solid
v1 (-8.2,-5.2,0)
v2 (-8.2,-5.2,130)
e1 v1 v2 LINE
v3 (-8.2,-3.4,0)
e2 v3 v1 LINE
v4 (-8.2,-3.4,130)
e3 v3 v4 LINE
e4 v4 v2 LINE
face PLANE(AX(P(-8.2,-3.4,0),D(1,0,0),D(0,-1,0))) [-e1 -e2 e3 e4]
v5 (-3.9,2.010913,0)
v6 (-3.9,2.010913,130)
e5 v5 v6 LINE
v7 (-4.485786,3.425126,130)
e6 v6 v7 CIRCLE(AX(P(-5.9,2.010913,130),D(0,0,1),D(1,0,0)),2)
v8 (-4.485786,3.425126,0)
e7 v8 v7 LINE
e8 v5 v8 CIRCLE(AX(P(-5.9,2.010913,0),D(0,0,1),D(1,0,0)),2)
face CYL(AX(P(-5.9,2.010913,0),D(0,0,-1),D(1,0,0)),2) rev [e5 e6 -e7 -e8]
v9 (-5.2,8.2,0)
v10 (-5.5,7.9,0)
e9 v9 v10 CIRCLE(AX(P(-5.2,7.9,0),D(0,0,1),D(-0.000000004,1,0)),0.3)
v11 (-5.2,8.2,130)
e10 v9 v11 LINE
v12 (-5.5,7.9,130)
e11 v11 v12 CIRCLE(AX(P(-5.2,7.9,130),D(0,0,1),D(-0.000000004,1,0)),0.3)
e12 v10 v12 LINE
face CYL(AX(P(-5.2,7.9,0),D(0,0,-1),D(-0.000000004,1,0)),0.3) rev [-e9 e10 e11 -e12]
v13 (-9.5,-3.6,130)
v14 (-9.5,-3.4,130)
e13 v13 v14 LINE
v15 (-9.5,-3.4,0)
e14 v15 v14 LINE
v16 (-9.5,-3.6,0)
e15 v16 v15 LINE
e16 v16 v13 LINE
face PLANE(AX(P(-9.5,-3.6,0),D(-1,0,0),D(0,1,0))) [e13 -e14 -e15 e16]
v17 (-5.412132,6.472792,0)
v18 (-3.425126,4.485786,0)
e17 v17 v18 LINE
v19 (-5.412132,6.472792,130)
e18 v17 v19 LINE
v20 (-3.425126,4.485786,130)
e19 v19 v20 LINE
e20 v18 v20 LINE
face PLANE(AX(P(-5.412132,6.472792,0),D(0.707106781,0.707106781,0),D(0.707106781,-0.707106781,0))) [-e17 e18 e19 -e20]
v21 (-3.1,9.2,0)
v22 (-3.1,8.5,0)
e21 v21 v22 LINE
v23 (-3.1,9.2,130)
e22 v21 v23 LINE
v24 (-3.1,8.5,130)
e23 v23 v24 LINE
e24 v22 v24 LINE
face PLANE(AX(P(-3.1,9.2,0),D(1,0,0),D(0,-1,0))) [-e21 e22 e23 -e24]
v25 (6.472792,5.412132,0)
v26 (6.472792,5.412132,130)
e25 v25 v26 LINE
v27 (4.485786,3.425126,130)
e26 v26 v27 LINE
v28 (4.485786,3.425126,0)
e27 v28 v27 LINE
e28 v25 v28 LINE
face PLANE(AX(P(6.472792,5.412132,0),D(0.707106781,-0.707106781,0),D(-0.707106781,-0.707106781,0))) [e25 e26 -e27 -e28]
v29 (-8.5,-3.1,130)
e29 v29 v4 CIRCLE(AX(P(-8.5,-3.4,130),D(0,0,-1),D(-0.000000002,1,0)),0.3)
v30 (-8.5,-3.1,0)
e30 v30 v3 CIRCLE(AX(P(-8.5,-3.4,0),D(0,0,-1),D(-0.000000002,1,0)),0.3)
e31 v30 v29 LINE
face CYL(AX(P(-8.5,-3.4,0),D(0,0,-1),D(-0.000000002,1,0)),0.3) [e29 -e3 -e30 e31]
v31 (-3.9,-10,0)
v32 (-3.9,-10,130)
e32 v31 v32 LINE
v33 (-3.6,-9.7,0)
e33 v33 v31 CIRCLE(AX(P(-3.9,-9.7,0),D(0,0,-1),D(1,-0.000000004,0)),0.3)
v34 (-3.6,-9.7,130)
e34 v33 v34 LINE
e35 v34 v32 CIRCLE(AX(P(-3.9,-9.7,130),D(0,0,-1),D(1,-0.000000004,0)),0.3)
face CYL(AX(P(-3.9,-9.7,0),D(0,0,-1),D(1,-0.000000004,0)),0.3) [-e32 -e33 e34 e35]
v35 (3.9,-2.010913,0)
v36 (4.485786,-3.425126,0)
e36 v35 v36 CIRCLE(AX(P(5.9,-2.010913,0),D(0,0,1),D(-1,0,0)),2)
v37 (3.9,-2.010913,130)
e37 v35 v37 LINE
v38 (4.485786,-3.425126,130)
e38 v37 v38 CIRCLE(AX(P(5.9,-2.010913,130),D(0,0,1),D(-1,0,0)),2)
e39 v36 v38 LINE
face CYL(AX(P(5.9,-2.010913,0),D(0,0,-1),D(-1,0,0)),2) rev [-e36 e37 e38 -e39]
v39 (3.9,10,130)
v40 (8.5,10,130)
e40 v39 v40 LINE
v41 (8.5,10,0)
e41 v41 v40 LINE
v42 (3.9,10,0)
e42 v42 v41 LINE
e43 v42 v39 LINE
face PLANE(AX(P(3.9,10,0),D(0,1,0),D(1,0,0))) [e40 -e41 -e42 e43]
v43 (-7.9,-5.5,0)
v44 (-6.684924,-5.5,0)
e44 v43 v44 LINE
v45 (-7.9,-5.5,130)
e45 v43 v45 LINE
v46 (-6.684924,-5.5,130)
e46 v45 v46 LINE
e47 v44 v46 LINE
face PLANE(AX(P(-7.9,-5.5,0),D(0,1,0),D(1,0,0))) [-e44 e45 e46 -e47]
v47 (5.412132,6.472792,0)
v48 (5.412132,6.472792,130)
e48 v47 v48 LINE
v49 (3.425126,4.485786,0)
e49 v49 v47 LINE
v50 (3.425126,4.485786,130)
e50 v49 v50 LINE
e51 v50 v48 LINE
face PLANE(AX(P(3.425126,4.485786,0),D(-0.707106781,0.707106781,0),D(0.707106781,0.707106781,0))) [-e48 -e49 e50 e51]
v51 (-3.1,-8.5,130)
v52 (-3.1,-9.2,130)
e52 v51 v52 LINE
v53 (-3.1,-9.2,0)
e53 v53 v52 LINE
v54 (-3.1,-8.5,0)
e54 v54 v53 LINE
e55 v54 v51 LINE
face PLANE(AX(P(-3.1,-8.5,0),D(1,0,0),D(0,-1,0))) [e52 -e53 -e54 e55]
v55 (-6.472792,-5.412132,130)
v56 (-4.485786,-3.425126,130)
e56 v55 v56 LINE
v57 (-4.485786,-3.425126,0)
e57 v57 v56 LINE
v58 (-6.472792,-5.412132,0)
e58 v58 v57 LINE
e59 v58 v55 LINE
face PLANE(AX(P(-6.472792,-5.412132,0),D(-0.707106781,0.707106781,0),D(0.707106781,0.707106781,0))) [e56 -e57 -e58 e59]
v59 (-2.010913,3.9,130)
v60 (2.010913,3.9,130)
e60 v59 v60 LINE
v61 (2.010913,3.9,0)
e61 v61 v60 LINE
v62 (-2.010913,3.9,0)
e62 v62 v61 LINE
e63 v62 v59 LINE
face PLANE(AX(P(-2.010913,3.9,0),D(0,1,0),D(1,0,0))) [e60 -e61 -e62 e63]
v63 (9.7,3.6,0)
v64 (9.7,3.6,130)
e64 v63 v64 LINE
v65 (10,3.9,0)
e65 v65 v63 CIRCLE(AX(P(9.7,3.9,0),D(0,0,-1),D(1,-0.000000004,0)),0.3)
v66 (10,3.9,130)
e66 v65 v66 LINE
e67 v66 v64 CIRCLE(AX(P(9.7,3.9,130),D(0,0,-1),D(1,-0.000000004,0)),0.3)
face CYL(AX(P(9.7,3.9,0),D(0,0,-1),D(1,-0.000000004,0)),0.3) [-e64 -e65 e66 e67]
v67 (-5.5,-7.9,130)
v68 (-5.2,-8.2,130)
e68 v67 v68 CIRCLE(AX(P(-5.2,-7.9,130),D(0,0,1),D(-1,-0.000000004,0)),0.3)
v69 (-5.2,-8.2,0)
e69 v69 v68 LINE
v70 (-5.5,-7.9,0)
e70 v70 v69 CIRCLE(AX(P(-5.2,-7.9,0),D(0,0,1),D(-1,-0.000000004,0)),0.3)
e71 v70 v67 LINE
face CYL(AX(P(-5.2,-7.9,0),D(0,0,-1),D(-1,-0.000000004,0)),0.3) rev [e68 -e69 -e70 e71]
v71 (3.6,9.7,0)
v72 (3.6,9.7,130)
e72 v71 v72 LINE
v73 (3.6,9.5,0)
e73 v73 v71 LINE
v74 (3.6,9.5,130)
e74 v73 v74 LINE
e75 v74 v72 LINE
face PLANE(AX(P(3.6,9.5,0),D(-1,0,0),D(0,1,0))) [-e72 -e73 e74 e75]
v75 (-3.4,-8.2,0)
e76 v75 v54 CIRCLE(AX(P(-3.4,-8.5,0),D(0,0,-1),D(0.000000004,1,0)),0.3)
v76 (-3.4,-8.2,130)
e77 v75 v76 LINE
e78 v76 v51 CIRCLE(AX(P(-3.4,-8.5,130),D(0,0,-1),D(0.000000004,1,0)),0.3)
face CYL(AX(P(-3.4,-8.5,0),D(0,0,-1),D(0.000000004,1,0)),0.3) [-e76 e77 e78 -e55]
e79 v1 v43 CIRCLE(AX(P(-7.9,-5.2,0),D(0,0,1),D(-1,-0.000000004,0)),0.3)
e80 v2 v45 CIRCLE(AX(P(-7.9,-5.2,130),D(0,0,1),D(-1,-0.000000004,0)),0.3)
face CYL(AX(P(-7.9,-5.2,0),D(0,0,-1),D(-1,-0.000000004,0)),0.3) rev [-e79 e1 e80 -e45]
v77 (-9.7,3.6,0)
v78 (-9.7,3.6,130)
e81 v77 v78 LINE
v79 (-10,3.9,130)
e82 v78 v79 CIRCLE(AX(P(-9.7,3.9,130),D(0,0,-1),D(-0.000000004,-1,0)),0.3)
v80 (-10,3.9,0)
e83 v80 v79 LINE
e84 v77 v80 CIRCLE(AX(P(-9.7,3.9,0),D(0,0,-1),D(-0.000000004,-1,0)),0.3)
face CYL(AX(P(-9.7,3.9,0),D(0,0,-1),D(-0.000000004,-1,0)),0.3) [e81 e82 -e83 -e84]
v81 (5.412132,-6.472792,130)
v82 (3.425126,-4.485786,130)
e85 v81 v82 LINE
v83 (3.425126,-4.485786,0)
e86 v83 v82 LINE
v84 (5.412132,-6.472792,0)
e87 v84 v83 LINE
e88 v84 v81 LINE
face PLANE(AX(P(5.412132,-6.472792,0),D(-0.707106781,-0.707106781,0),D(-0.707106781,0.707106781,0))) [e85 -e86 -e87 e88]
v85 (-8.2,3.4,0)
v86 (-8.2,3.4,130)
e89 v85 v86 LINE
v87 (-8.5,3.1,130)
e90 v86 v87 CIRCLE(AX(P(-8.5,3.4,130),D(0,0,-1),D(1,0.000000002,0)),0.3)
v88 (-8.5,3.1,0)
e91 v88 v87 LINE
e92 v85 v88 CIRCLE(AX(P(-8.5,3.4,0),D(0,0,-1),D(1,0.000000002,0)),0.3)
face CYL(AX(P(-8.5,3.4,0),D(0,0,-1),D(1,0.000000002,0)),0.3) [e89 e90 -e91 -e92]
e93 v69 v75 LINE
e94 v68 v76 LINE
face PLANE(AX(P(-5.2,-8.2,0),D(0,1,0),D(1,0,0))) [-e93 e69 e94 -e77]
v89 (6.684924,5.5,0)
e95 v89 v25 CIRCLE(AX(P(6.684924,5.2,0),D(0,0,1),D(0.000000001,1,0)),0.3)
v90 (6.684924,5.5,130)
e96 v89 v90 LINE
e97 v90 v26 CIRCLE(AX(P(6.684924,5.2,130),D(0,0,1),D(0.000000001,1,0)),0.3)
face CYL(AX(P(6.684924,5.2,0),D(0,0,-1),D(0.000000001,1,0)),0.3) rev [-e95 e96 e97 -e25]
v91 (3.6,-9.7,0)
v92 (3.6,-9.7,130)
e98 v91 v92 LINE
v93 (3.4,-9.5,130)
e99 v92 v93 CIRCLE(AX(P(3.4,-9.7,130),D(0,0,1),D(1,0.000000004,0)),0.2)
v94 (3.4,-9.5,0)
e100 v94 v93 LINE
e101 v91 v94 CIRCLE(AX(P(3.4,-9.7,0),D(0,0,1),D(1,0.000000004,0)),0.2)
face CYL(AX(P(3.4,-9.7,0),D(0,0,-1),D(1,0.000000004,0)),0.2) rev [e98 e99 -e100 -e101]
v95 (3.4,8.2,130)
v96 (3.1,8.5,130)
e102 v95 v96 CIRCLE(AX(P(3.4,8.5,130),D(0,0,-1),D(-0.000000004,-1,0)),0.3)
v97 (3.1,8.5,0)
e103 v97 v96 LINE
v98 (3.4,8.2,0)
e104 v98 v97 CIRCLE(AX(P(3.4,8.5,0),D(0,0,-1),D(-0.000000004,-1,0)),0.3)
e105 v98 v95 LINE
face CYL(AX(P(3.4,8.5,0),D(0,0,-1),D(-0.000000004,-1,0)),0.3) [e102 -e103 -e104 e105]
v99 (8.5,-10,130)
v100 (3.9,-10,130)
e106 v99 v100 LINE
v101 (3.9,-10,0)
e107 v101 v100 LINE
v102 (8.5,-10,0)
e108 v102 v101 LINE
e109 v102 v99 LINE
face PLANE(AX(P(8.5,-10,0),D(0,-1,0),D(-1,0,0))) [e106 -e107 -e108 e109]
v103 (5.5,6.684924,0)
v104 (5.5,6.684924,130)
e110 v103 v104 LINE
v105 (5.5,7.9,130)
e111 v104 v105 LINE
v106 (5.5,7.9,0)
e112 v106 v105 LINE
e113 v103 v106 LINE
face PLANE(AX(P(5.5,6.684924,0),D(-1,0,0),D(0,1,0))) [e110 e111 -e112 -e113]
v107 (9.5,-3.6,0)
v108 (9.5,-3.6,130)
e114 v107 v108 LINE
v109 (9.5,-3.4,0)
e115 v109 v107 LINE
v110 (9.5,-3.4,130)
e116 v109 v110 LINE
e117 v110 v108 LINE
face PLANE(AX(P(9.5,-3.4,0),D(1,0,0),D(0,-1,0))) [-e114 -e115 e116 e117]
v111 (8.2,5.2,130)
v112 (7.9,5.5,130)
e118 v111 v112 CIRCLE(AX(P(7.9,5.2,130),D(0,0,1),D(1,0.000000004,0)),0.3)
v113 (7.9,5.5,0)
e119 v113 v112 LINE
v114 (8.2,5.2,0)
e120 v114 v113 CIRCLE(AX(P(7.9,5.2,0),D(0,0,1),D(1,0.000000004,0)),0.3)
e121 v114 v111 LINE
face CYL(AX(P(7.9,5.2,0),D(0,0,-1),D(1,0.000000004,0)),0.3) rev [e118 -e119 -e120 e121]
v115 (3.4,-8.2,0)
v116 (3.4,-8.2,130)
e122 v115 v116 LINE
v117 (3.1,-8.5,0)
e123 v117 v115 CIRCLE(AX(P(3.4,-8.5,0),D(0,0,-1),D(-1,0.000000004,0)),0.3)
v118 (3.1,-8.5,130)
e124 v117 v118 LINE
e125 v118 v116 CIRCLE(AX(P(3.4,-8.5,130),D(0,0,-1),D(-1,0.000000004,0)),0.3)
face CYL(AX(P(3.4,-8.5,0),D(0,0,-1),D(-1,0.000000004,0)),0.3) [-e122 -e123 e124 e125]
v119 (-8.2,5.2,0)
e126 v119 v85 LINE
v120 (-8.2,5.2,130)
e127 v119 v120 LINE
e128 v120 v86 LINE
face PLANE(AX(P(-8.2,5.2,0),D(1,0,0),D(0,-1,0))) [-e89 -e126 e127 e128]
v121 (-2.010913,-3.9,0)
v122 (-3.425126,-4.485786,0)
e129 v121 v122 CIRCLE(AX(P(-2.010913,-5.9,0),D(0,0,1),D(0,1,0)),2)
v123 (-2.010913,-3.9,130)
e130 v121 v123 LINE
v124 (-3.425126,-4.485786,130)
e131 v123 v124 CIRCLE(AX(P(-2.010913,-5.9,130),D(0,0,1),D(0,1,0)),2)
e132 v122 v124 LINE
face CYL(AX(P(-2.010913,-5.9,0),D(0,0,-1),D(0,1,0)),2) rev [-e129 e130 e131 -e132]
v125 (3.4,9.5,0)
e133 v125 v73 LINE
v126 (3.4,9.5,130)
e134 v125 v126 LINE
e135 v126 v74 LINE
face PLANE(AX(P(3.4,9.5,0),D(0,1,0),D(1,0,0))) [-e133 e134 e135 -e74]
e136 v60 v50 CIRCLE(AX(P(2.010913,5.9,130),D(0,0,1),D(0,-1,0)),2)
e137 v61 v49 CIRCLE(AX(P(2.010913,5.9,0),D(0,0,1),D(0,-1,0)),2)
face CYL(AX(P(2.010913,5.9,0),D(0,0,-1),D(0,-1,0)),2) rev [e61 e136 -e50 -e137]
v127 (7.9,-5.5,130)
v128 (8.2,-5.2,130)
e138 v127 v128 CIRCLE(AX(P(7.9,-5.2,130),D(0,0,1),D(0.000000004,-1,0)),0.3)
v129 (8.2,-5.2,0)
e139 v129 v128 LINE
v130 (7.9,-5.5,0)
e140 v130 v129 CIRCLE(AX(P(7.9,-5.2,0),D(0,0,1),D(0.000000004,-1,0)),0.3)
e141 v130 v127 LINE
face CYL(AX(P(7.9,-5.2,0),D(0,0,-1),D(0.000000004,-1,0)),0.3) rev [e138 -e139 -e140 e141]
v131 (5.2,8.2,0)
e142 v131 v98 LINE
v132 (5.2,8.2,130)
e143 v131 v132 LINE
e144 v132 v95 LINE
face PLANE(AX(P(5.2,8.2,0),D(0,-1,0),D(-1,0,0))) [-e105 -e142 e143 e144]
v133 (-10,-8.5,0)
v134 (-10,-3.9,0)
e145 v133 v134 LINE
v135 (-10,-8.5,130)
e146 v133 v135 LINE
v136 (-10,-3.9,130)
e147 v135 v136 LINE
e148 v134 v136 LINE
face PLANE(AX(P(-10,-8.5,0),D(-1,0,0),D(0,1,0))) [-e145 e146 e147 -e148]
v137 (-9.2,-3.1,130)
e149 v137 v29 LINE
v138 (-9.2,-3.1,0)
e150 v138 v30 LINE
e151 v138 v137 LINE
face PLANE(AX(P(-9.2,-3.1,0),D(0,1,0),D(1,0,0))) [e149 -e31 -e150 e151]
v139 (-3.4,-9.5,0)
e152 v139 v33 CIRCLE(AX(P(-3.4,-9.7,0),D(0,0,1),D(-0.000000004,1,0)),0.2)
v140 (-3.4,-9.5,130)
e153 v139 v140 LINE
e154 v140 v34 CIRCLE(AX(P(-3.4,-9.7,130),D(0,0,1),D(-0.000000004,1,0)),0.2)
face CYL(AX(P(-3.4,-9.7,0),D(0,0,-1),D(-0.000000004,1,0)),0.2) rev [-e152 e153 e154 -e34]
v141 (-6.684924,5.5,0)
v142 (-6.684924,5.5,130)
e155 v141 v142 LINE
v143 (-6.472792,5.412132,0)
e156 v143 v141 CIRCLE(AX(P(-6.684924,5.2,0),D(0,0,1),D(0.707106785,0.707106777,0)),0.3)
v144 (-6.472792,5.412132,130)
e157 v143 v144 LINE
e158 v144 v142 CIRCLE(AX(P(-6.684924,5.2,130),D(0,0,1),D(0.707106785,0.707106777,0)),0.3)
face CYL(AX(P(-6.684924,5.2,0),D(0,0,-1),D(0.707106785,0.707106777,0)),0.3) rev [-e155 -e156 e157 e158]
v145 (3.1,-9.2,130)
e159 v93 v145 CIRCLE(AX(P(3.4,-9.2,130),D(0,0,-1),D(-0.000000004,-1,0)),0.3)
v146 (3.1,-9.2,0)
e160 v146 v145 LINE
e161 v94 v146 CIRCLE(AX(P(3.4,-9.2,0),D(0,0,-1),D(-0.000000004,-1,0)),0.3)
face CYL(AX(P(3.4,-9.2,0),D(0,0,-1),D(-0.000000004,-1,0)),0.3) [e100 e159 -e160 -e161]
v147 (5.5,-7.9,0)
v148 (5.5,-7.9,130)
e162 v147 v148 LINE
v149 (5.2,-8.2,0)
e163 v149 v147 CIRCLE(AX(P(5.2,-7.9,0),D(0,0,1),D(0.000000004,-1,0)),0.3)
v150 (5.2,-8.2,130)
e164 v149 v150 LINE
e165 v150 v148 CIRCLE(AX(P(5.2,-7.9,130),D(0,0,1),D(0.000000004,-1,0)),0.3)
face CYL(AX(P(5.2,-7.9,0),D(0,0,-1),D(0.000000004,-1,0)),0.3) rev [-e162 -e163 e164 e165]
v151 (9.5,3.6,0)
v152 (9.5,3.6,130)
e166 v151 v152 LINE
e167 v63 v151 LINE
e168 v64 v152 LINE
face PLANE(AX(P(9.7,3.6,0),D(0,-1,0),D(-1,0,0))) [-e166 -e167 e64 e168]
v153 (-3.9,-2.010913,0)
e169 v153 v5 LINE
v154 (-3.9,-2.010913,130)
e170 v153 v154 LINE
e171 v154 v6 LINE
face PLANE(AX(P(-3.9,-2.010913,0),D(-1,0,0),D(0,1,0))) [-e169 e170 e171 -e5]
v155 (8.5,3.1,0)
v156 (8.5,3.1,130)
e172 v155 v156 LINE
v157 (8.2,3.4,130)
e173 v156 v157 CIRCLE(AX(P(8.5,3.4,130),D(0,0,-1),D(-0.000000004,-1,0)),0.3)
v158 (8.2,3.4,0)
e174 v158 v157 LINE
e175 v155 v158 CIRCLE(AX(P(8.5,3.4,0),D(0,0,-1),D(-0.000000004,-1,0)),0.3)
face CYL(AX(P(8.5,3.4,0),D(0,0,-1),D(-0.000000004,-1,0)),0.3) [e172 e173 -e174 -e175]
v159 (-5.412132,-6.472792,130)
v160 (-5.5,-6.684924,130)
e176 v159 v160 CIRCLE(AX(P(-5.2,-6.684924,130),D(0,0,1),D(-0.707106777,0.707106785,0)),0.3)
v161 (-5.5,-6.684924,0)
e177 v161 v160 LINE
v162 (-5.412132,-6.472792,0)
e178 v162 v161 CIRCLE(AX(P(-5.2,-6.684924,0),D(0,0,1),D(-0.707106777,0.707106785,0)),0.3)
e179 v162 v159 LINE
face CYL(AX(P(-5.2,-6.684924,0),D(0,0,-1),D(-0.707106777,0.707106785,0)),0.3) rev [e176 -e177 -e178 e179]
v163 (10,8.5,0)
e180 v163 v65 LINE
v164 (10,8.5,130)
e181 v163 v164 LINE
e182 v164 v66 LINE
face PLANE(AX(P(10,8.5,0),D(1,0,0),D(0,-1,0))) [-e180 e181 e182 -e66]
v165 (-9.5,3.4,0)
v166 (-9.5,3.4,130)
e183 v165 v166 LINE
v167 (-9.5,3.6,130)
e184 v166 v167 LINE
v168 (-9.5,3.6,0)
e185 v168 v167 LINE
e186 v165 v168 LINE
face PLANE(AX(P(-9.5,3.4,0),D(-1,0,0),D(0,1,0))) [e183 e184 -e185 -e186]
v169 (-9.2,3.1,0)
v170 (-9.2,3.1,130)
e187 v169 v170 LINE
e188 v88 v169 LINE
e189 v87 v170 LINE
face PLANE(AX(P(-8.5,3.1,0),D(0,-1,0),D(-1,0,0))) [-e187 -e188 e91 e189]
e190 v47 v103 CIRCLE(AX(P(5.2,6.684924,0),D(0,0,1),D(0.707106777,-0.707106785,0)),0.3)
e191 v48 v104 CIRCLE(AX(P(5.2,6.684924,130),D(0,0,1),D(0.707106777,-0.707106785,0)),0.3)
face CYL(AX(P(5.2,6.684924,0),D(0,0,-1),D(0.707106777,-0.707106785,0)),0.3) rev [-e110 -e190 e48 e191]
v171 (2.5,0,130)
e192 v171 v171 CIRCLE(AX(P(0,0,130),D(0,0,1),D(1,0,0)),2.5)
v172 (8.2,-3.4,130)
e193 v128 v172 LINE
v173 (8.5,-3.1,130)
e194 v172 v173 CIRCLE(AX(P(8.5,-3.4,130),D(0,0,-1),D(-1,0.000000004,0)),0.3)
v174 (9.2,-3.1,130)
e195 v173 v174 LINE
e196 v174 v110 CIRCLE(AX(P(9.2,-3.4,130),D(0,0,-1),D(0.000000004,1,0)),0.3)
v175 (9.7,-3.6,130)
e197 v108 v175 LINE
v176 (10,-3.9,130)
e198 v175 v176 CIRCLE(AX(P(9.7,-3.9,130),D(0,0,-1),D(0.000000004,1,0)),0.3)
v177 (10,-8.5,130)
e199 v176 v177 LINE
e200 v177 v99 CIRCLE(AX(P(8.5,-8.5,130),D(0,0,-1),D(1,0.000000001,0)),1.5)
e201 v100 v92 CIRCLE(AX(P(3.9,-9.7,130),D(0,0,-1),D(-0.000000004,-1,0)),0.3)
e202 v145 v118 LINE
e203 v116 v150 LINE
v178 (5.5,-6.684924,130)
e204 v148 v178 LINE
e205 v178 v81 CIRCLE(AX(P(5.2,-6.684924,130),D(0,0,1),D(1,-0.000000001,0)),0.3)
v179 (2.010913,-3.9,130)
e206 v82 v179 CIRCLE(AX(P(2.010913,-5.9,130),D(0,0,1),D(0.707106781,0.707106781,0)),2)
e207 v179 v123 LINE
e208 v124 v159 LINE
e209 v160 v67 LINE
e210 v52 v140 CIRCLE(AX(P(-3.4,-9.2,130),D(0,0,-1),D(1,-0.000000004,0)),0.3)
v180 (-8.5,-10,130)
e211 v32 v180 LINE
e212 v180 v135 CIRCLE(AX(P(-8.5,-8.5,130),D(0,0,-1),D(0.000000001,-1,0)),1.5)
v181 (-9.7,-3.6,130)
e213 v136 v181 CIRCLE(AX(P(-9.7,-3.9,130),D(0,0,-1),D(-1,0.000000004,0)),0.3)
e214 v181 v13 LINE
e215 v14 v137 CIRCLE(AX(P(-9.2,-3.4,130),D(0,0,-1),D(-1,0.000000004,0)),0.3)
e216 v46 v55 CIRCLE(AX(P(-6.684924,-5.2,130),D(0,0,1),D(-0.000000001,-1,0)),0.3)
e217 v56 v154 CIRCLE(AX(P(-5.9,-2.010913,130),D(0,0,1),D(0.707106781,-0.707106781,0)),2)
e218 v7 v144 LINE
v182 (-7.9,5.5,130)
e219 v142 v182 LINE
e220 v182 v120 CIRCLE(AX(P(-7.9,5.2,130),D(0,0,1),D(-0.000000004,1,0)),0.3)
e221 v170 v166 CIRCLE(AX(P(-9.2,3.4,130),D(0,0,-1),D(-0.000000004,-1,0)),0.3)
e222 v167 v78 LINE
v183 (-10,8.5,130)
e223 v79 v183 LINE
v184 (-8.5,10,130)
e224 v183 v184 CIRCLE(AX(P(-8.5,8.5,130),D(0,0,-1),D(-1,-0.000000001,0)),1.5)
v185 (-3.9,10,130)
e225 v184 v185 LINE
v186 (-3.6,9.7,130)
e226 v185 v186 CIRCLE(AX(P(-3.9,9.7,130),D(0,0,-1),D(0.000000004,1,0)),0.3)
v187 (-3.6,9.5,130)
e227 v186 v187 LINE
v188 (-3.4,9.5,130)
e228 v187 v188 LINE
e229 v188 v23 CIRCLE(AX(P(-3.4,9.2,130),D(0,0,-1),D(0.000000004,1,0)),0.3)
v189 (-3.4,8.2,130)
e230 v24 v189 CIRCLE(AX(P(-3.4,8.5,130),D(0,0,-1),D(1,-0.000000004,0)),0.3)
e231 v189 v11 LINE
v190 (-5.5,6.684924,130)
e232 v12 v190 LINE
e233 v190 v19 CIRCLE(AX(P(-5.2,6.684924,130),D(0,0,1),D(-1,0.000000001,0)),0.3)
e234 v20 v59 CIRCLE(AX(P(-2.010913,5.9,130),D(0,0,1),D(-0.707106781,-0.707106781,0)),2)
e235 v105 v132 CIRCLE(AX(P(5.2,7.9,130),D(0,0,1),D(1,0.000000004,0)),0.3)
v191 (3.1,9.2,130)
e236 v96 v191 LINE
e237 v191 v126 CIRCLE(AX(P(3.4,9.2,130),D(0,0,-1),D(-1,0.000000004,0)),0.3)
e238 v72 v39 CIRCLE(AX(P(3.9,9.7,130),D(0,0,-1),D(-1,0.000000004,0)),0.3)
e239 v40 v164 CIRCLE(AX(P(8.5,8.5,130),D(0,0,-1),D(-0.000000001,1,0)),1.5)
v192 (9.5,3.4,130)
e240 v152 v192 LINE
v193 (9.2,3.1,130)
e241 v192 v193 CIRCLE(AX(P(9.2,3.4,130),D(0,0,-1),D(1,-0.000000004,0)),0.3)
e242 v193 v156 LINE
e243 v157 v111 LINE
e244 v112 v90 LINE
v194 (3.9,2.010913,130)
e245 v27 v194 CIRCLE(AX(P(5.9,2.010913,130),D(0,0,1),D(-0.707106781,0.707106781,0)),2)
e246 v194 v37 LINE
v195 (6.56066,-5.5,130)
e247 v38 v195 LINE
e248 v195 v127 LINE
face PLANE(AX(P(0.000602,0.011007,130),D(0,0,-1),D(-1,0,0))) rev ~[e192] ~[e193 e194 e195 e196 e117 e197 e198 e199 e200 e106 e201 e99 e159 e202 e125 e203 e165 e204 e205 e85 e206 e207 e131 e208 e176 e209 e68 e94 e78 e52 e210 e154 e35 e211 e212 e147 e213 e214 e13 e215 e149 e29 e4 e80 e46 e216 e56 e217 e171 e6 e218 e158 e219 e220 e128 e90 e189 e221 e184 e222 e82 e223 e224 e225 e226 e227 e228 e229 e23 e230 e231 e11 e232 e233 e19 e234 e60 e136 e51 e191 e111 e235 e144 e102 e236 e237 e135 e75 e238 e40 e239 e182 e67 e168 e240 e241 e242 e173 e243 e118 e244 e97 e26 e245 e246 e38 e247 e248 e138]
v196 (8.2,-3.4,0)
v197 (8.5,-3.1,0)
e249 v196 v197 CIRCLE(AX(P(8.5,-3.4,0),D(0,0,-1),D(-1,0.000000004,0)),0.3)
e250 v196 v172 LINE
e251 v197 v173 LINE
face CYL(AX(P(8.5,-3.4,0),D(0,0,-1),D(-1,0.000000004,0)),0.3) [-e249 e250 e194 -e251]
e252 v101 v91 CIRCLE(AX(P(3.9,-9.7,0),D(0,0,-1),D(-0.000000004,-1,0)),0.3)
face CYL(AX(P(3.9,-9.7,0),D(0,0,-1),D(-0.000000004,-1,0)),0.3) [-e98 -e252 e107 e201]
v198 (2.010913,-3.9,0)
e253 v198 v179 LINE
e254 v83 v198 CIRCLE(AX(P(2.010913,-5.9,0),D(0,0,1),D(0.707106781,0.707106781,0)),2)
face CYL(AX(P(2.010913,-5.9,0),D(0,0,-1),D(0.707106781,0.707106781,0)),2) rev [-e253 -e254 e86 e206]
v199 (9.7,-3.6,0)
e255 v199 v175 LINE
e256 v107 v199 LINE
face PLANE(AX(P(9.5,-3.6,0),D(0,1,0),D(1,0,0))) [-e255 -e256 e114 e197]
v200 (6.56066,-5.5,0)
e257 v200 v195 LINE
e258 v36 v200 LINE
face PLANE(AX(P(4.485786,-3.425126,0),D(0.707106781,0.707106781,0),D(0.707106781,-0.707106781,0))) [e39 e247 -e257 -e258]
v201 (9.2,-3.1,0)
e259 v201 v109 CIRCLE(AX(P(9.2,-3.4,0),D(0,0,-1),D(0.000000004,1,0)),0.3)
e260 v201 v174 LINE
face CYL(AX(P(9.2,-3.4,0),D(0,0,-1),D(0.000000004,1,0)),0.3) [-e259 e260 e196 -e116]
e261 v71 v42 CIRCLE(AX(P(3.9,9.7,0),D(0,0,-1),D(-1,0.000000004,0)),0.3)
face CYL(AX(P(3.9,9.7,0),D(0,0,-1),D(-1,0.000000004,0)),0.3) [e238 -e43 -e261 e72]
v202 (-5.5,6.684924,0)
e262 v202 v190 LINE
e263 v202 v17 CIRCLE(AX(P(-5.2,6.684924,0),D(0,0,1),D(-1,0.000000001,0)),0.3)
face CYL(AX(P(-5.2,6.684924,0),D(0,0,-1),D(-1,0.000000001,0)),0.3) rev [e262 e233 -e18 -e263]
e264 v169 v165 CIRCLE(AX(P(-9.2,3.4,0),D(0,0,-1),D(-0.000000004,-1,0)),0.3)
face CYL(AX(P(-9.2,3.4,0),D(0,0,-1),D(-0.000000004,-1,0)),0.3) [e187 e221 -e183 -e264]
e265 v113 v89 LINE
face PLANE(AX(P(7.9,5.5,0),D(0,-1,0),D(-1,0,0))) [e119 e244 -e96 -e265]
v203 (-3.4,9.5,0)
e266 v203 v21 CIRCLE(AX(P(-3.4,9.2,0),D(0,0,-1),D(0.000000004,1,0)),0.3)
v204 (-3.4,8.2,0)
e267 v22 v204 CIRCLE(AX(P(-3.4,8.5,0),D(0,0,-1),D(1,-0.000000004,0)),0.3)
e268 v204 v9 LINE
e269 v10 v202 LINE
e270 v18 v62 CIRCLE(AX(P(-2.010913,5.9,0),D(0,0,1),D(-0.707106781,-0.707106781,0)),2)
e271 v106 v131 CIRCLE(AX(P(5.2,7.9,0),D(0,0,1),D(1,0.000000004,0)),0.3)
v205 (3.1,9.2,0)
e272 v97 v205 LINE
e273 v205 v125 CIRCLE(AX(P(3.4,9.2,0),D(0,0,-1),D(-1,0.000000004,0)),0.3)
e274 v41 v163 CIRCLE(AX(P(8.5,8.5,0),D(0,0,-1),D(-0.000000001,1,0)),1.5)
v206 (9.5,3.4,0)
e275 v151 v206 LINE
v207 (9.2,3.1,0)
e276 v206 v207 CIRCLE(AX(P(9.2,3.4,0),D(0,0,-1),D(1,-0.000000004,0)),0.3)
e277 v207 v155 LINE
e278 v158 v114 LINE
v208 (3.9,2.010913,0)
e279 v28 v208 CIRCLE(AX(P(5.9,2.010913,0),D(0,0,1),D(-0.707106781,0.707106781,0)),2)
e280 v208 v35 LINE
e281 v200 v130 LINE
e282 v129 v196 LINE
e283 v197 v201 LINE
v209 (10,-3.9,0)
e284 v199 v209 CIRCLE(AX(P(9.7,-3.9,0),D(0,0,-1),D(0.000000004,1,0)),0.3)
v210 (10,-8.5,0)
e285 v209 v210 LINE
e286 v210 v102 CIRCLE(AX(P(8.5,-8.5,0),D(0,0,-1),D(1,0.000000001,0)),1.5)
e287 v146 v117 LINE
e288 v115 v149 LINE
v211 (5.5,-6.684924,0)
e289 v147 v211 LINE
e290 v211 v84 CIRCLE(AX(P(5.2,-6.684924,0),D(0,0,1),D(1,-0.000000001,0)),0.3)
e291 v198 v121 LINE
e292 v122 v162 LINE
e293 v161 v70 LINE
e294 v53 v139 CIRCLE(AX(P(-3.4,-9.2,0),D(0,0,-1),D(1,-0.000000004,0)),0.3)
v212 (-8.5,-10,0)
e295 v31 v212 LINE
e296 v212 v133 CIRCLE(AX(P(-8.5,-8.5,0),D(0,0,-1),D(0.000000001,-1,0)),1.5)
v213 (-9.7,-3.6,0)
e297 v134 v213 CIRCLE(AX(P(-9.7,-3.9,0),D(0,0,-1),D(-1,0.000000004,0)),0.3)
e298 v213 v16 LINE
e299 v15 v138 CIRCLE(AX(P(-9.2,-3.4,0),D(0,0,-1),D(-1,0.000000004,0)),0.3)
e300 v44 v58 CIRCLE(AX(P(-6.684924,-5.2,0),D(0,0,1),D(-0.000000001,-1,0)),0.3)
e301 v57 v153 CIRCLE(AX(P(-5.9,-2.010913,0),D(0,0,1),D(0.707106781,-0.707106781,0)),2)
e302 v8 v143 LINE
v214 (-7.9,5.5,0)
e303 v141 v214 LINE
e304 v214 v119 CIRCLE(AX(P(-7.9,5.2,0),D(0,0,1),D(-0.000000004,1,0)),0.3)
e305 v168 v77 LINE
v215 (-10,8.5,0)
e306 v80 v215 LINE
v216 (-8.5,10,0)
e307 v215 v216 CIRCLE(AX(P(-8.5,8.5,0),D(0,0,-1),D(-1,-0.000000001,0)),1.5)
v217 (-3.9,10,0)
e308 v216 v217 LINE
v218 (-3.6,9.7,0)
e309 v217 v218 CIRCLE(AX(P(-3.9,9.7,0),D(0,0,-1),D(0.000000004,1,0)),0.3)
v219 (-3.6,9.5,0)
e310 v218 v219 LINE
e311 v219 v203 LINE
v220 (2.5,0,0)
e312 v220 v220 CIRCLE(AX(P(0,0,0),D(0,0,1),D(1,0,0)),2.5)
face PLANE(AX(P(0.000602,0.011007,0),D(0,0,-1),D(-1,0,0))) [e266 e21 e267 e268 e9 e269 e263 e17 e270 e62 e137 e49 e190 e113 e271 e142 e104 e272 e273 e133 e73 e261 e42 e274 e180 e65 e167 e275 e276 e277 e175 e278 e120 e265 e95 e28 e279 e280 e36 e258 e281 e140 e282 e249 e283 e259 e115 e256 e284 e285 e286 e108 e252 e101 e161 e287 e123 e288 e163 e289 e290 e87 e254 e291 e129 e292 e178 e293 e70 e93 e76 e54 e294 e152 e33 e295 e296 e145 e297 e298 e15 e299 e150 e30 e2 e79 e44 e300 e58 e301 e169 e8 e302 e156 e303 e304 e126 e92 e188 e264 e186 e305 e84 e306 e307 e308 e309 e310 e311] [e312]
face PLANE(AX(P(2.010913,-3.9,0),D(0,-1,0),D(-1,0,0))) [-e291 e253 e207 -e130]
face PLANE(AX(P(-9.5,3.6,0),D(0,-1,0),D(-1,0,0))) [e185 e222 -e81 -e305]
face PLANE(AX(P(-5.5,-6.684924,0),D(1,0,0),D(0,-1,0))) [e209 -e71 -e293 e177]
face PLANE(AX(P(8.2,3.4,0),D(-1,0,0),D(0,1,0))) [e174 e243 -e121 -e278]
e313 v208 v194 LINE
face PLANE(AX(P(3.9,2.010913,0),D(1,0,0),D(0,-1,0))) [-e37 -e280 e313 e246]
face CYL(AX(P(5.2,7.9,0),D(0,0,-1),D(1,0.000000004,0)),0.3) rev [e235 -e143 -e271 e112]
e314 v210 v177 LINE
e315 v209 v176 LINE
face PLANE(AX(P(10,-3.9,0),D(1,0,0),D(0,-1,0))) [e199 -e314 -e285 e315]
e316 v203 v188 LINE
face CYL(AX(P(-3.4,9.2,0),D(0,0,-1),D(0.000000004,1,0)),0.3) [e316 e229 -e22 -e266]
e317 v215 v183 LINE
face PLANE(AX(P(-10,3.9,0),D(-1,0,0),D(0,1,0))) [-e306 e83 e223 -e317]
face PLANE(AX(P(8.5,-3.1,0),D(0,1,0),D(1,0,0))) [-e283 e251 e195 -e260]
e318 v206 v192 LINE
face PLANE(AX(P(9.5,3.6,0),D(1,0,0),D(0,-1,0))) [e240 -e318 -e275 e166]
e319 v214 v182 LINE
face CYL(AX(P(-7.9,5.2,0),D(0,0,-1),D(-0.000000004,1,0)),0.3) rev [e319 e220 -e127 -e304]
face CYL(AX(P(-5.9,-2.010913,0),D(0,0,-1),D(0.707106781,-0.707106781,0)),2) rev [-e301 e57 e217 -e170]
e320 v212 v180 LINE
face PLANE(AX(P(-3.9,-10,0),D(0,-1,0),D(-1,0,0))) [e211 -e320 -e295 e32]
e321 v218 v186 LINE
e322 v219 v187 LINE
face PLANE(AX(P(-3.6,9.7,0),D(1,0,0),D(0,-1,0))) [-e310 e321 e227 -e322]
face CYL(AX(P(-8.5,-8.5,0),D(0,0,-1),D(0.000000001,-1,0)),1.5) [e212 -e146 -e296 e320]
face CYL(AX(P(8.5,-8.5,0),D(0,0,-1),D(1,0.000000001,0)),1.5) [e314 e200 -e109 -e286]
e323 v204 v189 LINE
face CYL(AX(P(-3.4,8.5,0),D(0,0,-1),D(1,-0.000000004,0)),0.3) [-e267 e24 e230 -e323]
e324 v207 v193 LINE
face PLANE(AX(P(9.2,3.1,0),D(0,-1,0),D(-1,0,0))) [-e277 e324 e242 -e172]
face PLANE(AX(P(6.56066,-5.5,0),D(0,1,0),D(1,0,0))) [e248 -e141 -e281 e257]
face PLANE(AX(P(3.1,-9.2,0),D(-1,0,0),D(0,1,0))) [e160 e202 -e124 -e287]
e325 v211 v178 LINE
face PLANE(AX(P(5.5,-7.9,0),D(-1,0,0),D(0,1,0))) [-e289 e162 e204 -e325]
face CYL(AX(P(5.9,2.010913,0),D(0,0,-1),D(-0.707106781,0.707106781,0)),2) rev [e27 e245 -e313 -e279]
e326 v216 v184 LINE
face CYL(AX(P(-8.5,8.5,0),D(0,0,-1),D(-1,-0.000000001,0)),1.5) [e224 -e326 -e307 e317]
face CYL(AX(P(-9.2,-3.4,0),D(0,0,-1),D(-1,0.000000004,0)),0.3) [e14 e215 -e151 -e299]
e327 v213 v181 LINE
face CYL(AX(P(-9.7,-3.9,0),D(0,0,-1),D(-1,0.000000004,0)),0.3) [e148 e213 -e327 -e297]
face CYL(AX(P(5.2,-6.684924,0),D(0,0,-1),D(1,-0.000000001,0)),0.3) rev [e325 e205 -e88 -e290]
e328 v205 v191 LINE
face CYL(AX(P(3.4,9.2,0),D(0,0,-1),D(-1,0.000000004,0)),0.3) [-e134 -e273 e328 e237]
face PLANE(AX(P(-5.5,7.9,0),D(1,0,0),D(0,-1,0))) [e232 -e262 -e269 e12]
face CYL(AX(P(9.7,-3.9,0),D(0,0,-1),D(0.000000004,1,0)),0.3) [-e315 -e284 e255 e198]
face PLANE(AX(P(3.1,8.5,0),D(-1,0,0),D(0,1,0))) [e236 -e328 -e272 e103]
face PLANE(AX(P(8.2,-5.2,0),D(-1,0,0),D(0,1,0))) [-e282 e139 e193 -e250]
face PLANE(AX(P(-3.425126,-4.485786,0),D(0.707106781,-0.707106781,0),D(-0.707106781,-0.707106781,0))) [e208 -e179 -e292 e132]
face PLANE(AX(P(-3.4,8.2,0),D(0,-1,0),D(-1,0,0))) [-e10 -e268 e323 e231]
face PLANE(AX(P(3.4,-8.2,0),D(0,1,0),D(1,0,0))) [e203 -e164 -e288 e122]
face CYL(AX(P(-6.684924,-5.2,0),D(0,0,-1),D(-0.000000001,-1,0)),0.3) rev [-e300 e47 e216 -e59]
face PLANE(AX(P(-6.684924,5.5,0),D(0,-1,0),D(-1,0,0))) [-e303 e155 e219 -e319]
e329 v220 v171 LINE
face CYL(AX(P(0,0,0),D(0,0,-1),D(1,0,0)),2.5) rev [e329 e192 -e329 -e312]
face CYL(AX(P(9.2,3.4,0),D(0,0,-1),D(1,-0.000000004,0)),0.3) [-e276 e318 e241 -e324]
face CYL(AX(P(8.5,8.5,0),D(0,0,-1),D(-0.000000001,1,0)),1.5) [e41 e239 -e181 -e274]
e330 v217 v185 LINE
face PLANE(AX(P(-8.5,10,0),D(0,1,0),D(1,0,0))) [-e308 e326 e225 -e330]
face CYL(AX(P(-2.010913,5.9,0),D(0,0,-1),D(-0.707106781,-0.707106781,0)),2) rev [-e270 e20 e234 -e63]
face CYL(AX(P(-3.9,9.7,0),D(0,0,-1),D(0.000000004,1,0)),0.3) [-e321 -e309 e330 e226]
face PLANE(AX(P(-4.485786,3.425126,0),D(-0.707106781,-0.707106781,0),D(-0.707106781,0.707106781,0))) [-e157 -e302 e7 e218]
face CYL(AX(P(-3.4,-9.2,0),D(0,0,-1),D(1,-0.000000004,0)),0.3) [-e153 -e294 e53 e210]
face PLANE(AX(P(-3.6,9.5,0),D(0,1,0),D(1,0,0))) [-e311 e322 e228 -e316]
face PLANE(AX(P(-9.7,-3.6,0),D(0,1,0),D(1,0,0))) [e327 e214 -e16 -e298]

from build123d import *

# Parameters (mm, degrees)
SKETCH_1_R      = 2.5
EXTRUDE_1_DEPTH = 130


with BuildPart() as part:
    # 草图1 → 凸台-拉伸1 (new body)
    with BuildSketch(Plane.XY):
        with BuildLine():
            Line((3.9, 0), (3.9, -2.010912703))
            ThreePointArc((3.9, -2.010912703), (4.052240935, -2.776279568), (4.485786438, -3.425126266))
            Line((4.485786438, -3.425126266), (6.560660172, -5.5))
            Line((6.560660172, -5.5), (7.9, -5.5))
            ThreePointArc((7.9, -5.5), (8.112132034, -5.412132034), (8.2, -5.2))
            Line((8.2, -5.2), (8.2, -3.4))
            ThreePointArc((8.2, -3.4), (8.287867966, -3.187867966), (8.5, -3.1))
            Line((8.5, -3.1), (9.2, -3.1))
            ThreePointArc((9.2, -3.1), (9.412132034, -3.187867966), (9.5, -3.4))
            Line((9.5, -3.4), (9.5, -3.6))
            Line((9.5, -3.6), (9.7, -3.6))
            ThreePointArc((9.7, -3.6), (9.912132034, -3.687867966), (10, -3.9))
            Line((10, -3.9), (10, -8.5))
            ThreePointArc((10, -8.5), (9.560660172, -9.560660172), (8.5, -10))
            Line((8.5, -10), (3.9, -10))
            ThreePointArc((3.9, -10), (3.687867966, -9.912132034), (3.6, -9.7))
            ThreePointArc((3.6, -9.7), (3.541421356, -9.558578644), (3.4, -9.5))
            ThreePointArc((3.4, -9.5), (3.187867966, -9.412132034), (3.1, -9.2))
            Line((3.1, -9.2), (3.1, -8.5))
            ThreePointArc((3.1, -8.5), (3.187867966, -8.287867966), (3.4, -8.2))
            Line((3.4, -8.2), (5.2, -8.2))
            ThreePointArc((5.2, -8.2), (5.412132034, -8.112132034), (5.5, -7.9))
            Line((5.5, -7.9), (5.5, -6.68492424))
            ThreePointArc((5.5, -6.68492424), (5.47716386, -6.570119211), (5.412132034, -6.472792206))
            Line((5.412132034, -6.472792206), (3.425126266, -4.485786438))
            ThreePointArc((3.425126266, -4.485786438), (2.776279568, -4.052240935), (2.010912703, -3.9))
            Line((2.010912703, -3.9), (0, -3.9))
            Line((0, -3.9), (-2.010912703, -3.9))
            ThreePointArc((-2.010912703, -3.9), (-2.776279568, -4.052240935), (-3.425126266, -4.485786438))
            Line((-3.425126266, -4.485786438), (-5.412132034, -6.472792206))
            ThreePointArc((-5.412132034, -6.472792206), (-5.47716386, -6.570119211), (-5.5, -6.68492424))
            Line((-5.5, -6.68492424), (-5.5, -7.9))
            ThreePointArc((-5.5, -7.9), (-5.412132034, -8.112132034), (-5.2, -8.2))
            Line((-5.2, -8.2), (-3.4, -8.2))
            ThreePointArc((-3.4, -8.2), (-3.187867966, -8.287867966), (-3.1, -8.5))
            Line((-3.1, -8.5), (-3.1, -9.2))
            ThreePointArc((-3.1, -9.2), (-3.187867966, -9.412132034), (-3.4, -9.5))
            ThreePointArc((-3.4, -9.5), (-3.541421356, -9.558578644), (-3.6, -9.7))
            ThreePointArc((-3.6, -9.7), (-3.687867966, -9.912132034), (-3.9, -10))
            Line((-3.9, -10), (-8.5, -10))
            ThreePointArc((-8.5, -10), (-9.560660172, -9.560660172), (-10, -8.5))
            Line((-10, -8.5), (-10, -3.9))
            ThreePointArc((-10, -3.9), (-9.912132034, -3.687867966), (-9.7, -3.6))
            Line((-9.7, -3.6), (-9.5, -3.6))
            Line((-9.5, -3.6), (-9.5, -3.4))
            ThreePointArc((-9.5, -3.4), (-9.412132034, -3.187867966), (-9.2, -3.1))
            Line((-9.2, -3.1), (-8.5, -3.1))
            ThreePointArc((-8.5, -3.1), (-8.287867965, -3.187867966), (-8.2, -3.4))
            Line((-8.2, -3.4), (-8.2, -5.2))
            ThreePointArc((-8.2, -5.2), (-8.112132034, -5.412132034), (-7.9, -5.5))
            Line((-7.9, -5.5), (-6.68492424, -5.5))
            ThreePointArc((-6.68492424, -5.5), (-6.570119211, -5.47716386), (-6.472792206, -5.412132034))
            Line((-6.472792206, -5.412132034), (-4.485786438, -3.425126266))
            ThreePointArc((-4.485786438, -3.425126266), (-4.052240935, -2.776279568), (-3.9, -2.010912703))
            Line((-3.9, -2.010912703), (-3.9, 0))
            Line((-3.9, 0), (-3.9, 2.010912703))
            ThreePointArc((-3.9, 2.010912703), (-4.052240935, 2.776279568), (-4.485786438, 3.425126266))
            Line((-4.485786438, 3.425126266), (-6.472792206, 5.412132034))
            ThreePointArc((-6.472792206, 5.412132034), (-6.570119211, 5.47716386), (-6.68492424, 5.5))
            Line((-6.68492424, 5.5), (-7.9, 5.5))
            ThreePointArc((-7.9, 5.5), (-8.112132034, 5.412132034), (-8.2, 5.2))
            Line((-8.2, 5.2), (-8.2, 3.4))
            ThreePointArc((-8.2, 3.4), (-8.287867965, 3.187867966), (-8.5, 3.1))
            Line((-8.5, 3.1), (-9.2, 3.1))
            ThreePointArc((-9.2, 3.1), (-9.412132034, 3.187867966), (-9.5, 3.4))
            Line((-9.5, 3.4), (-9.5, 3.6))
            Line((-9.5, 3.6), (-9.7, 3.6))
            ThreePointArc((-9.7, 3.6), (-9.912132034, 3.687867966), (-10, 3.9))
            Line((-10, 3.9), (-10, 8.5))
            ThreePointArc((-10, 8.5), (-9.560660172, 9.560660172), (-8.5, 10))
            Line((-8.5, 10), (-3.9, 10))
            ThreePointArc((-3.9, 10), (-3.687867966, 9.912132034), (-3.6, 9.7))
            Line((-3.6, 9.7), (-3.6, 9.5))
            Line((-3.6, 9.5), (-3.4, 9.5))
            ThreePointArc((-3.4, 9.5), (-3.187867966, 9.412132034), (-3.1, 9.2))
            Line((-3.1, 9.2), (-3.1, 8.5))
            ThreePointArc((-3.1, 8.5), (-3.187867966, 8.287867966), (-3.4, 8.2))
            Line((-3.4, 8.2), (-5.2, 8.2))
            ThreePointArc((-5.2, 8.2), (-5.412132034, 8.112132034), (-5.5, 7.9))
            Line((-5.5, 7.9), (-5.5, 6.68492424))
            ThreePointArc((-5.5, 6.68492424), (-5.47716386, 6.570119211), (-5.412132034, 6.472792206))
            Line((-5.412132034, 6.472792206), (-3.425126266, 4.485786438))
            ThreePointArc((-3.425126266, 4.485786438), (-2.776279568, 4.052240935), (-2.010912703, 3.9))
            Line((-2.010912703, 3.9), (0, 3.9))
            Line((0, 3.9), (2.010912703, 3.9))
            ThreePointArc((2.010912703, 3.9), (2.776279568, 4.052240935), (3.425126266, 4.485786438))
            Line((3.425126266, 4.485786438), (5.412132034, 6.472792206))
            ThreePointArc((5.412132034, 6.472792206), (5.47716386, 6.570119211), (5.5, 6.68492424))
            Line((5.5, 6.68492424), (5.5, 7.9))
            ThreePointArc((5.5, 7.9), (5.412132034, 8.112132034), (5.2, 8.2))
            Line((5.2, 8.2), (3.4, 8.2))
            ThreePointArc((3.4, 8.2), (3.187867966, 8.287867966), (3.1, 8.5))
            Line((3.1, 8.5), (3.1, 9.2))
            ThreePointArc((3.1, 9.2), (3.187867966, 9.412132034), (3.4, 9.5))
            Line((3.4, 9.5), (3.6, 9.5))
            Line((3.6, 9.5), (3.6, 9.7))
            ThreePointArc((3.6, 9.7), (3.687867966, 9.912132034), (3.9, 10))
            Line((3.9, 10), (8.5, 10))
            ThreePointArc((8.5, 10), (9.560660172, 9.560660172), (10, 8.5))
            Line((10, 8.5), (10, 3.9))
            ThreePointArc((10, 3.9), (9.912132034, 3.687867966), (9.7, 3.6))
            Line((9.7, 3.6), (9.5, 3.6))
            Line((9.5, 3.6), (9.5, 3.4))
            ThreePointArc((9.5, 3.4), (9.412132034, 3.187867966), (9.2, 3.1))
            Line((9.2, 3.1), (8.5, 3.1))
            ThreePointArc((8.5, 3.1), (8.287867966, 3.187867966), (8.2, 3.4))
            Line((8.2, 3.4), (8.2, 5.2))
            ThreePointArc((8.2, 5.2), (8.112132034, 5.412132034), (7.9, 5.5))
            Line((7.9, 5.5), (6.68492424, 5.5))
            ThreePointArc((6.68492424, 5.5), (6.570119211, 5.47716386), (6.472792206, 5.412132034))
            Line((6.472792206, 5.412132034), (4.485786438, 3.425126266))
            ThreePointArc((4.485786438, 3.425126266), (4.052240935, 2.776279568), (3.9, 2.010912703))
            Line((3.9, 2.010912703), (3.9, 0))
        make_face()
        Circle(SKETCH_1_R, mode=Mode.SUBTRACT)
    extrude(amount=EXTRUDE_1_DEPTH)


solid = part.part
